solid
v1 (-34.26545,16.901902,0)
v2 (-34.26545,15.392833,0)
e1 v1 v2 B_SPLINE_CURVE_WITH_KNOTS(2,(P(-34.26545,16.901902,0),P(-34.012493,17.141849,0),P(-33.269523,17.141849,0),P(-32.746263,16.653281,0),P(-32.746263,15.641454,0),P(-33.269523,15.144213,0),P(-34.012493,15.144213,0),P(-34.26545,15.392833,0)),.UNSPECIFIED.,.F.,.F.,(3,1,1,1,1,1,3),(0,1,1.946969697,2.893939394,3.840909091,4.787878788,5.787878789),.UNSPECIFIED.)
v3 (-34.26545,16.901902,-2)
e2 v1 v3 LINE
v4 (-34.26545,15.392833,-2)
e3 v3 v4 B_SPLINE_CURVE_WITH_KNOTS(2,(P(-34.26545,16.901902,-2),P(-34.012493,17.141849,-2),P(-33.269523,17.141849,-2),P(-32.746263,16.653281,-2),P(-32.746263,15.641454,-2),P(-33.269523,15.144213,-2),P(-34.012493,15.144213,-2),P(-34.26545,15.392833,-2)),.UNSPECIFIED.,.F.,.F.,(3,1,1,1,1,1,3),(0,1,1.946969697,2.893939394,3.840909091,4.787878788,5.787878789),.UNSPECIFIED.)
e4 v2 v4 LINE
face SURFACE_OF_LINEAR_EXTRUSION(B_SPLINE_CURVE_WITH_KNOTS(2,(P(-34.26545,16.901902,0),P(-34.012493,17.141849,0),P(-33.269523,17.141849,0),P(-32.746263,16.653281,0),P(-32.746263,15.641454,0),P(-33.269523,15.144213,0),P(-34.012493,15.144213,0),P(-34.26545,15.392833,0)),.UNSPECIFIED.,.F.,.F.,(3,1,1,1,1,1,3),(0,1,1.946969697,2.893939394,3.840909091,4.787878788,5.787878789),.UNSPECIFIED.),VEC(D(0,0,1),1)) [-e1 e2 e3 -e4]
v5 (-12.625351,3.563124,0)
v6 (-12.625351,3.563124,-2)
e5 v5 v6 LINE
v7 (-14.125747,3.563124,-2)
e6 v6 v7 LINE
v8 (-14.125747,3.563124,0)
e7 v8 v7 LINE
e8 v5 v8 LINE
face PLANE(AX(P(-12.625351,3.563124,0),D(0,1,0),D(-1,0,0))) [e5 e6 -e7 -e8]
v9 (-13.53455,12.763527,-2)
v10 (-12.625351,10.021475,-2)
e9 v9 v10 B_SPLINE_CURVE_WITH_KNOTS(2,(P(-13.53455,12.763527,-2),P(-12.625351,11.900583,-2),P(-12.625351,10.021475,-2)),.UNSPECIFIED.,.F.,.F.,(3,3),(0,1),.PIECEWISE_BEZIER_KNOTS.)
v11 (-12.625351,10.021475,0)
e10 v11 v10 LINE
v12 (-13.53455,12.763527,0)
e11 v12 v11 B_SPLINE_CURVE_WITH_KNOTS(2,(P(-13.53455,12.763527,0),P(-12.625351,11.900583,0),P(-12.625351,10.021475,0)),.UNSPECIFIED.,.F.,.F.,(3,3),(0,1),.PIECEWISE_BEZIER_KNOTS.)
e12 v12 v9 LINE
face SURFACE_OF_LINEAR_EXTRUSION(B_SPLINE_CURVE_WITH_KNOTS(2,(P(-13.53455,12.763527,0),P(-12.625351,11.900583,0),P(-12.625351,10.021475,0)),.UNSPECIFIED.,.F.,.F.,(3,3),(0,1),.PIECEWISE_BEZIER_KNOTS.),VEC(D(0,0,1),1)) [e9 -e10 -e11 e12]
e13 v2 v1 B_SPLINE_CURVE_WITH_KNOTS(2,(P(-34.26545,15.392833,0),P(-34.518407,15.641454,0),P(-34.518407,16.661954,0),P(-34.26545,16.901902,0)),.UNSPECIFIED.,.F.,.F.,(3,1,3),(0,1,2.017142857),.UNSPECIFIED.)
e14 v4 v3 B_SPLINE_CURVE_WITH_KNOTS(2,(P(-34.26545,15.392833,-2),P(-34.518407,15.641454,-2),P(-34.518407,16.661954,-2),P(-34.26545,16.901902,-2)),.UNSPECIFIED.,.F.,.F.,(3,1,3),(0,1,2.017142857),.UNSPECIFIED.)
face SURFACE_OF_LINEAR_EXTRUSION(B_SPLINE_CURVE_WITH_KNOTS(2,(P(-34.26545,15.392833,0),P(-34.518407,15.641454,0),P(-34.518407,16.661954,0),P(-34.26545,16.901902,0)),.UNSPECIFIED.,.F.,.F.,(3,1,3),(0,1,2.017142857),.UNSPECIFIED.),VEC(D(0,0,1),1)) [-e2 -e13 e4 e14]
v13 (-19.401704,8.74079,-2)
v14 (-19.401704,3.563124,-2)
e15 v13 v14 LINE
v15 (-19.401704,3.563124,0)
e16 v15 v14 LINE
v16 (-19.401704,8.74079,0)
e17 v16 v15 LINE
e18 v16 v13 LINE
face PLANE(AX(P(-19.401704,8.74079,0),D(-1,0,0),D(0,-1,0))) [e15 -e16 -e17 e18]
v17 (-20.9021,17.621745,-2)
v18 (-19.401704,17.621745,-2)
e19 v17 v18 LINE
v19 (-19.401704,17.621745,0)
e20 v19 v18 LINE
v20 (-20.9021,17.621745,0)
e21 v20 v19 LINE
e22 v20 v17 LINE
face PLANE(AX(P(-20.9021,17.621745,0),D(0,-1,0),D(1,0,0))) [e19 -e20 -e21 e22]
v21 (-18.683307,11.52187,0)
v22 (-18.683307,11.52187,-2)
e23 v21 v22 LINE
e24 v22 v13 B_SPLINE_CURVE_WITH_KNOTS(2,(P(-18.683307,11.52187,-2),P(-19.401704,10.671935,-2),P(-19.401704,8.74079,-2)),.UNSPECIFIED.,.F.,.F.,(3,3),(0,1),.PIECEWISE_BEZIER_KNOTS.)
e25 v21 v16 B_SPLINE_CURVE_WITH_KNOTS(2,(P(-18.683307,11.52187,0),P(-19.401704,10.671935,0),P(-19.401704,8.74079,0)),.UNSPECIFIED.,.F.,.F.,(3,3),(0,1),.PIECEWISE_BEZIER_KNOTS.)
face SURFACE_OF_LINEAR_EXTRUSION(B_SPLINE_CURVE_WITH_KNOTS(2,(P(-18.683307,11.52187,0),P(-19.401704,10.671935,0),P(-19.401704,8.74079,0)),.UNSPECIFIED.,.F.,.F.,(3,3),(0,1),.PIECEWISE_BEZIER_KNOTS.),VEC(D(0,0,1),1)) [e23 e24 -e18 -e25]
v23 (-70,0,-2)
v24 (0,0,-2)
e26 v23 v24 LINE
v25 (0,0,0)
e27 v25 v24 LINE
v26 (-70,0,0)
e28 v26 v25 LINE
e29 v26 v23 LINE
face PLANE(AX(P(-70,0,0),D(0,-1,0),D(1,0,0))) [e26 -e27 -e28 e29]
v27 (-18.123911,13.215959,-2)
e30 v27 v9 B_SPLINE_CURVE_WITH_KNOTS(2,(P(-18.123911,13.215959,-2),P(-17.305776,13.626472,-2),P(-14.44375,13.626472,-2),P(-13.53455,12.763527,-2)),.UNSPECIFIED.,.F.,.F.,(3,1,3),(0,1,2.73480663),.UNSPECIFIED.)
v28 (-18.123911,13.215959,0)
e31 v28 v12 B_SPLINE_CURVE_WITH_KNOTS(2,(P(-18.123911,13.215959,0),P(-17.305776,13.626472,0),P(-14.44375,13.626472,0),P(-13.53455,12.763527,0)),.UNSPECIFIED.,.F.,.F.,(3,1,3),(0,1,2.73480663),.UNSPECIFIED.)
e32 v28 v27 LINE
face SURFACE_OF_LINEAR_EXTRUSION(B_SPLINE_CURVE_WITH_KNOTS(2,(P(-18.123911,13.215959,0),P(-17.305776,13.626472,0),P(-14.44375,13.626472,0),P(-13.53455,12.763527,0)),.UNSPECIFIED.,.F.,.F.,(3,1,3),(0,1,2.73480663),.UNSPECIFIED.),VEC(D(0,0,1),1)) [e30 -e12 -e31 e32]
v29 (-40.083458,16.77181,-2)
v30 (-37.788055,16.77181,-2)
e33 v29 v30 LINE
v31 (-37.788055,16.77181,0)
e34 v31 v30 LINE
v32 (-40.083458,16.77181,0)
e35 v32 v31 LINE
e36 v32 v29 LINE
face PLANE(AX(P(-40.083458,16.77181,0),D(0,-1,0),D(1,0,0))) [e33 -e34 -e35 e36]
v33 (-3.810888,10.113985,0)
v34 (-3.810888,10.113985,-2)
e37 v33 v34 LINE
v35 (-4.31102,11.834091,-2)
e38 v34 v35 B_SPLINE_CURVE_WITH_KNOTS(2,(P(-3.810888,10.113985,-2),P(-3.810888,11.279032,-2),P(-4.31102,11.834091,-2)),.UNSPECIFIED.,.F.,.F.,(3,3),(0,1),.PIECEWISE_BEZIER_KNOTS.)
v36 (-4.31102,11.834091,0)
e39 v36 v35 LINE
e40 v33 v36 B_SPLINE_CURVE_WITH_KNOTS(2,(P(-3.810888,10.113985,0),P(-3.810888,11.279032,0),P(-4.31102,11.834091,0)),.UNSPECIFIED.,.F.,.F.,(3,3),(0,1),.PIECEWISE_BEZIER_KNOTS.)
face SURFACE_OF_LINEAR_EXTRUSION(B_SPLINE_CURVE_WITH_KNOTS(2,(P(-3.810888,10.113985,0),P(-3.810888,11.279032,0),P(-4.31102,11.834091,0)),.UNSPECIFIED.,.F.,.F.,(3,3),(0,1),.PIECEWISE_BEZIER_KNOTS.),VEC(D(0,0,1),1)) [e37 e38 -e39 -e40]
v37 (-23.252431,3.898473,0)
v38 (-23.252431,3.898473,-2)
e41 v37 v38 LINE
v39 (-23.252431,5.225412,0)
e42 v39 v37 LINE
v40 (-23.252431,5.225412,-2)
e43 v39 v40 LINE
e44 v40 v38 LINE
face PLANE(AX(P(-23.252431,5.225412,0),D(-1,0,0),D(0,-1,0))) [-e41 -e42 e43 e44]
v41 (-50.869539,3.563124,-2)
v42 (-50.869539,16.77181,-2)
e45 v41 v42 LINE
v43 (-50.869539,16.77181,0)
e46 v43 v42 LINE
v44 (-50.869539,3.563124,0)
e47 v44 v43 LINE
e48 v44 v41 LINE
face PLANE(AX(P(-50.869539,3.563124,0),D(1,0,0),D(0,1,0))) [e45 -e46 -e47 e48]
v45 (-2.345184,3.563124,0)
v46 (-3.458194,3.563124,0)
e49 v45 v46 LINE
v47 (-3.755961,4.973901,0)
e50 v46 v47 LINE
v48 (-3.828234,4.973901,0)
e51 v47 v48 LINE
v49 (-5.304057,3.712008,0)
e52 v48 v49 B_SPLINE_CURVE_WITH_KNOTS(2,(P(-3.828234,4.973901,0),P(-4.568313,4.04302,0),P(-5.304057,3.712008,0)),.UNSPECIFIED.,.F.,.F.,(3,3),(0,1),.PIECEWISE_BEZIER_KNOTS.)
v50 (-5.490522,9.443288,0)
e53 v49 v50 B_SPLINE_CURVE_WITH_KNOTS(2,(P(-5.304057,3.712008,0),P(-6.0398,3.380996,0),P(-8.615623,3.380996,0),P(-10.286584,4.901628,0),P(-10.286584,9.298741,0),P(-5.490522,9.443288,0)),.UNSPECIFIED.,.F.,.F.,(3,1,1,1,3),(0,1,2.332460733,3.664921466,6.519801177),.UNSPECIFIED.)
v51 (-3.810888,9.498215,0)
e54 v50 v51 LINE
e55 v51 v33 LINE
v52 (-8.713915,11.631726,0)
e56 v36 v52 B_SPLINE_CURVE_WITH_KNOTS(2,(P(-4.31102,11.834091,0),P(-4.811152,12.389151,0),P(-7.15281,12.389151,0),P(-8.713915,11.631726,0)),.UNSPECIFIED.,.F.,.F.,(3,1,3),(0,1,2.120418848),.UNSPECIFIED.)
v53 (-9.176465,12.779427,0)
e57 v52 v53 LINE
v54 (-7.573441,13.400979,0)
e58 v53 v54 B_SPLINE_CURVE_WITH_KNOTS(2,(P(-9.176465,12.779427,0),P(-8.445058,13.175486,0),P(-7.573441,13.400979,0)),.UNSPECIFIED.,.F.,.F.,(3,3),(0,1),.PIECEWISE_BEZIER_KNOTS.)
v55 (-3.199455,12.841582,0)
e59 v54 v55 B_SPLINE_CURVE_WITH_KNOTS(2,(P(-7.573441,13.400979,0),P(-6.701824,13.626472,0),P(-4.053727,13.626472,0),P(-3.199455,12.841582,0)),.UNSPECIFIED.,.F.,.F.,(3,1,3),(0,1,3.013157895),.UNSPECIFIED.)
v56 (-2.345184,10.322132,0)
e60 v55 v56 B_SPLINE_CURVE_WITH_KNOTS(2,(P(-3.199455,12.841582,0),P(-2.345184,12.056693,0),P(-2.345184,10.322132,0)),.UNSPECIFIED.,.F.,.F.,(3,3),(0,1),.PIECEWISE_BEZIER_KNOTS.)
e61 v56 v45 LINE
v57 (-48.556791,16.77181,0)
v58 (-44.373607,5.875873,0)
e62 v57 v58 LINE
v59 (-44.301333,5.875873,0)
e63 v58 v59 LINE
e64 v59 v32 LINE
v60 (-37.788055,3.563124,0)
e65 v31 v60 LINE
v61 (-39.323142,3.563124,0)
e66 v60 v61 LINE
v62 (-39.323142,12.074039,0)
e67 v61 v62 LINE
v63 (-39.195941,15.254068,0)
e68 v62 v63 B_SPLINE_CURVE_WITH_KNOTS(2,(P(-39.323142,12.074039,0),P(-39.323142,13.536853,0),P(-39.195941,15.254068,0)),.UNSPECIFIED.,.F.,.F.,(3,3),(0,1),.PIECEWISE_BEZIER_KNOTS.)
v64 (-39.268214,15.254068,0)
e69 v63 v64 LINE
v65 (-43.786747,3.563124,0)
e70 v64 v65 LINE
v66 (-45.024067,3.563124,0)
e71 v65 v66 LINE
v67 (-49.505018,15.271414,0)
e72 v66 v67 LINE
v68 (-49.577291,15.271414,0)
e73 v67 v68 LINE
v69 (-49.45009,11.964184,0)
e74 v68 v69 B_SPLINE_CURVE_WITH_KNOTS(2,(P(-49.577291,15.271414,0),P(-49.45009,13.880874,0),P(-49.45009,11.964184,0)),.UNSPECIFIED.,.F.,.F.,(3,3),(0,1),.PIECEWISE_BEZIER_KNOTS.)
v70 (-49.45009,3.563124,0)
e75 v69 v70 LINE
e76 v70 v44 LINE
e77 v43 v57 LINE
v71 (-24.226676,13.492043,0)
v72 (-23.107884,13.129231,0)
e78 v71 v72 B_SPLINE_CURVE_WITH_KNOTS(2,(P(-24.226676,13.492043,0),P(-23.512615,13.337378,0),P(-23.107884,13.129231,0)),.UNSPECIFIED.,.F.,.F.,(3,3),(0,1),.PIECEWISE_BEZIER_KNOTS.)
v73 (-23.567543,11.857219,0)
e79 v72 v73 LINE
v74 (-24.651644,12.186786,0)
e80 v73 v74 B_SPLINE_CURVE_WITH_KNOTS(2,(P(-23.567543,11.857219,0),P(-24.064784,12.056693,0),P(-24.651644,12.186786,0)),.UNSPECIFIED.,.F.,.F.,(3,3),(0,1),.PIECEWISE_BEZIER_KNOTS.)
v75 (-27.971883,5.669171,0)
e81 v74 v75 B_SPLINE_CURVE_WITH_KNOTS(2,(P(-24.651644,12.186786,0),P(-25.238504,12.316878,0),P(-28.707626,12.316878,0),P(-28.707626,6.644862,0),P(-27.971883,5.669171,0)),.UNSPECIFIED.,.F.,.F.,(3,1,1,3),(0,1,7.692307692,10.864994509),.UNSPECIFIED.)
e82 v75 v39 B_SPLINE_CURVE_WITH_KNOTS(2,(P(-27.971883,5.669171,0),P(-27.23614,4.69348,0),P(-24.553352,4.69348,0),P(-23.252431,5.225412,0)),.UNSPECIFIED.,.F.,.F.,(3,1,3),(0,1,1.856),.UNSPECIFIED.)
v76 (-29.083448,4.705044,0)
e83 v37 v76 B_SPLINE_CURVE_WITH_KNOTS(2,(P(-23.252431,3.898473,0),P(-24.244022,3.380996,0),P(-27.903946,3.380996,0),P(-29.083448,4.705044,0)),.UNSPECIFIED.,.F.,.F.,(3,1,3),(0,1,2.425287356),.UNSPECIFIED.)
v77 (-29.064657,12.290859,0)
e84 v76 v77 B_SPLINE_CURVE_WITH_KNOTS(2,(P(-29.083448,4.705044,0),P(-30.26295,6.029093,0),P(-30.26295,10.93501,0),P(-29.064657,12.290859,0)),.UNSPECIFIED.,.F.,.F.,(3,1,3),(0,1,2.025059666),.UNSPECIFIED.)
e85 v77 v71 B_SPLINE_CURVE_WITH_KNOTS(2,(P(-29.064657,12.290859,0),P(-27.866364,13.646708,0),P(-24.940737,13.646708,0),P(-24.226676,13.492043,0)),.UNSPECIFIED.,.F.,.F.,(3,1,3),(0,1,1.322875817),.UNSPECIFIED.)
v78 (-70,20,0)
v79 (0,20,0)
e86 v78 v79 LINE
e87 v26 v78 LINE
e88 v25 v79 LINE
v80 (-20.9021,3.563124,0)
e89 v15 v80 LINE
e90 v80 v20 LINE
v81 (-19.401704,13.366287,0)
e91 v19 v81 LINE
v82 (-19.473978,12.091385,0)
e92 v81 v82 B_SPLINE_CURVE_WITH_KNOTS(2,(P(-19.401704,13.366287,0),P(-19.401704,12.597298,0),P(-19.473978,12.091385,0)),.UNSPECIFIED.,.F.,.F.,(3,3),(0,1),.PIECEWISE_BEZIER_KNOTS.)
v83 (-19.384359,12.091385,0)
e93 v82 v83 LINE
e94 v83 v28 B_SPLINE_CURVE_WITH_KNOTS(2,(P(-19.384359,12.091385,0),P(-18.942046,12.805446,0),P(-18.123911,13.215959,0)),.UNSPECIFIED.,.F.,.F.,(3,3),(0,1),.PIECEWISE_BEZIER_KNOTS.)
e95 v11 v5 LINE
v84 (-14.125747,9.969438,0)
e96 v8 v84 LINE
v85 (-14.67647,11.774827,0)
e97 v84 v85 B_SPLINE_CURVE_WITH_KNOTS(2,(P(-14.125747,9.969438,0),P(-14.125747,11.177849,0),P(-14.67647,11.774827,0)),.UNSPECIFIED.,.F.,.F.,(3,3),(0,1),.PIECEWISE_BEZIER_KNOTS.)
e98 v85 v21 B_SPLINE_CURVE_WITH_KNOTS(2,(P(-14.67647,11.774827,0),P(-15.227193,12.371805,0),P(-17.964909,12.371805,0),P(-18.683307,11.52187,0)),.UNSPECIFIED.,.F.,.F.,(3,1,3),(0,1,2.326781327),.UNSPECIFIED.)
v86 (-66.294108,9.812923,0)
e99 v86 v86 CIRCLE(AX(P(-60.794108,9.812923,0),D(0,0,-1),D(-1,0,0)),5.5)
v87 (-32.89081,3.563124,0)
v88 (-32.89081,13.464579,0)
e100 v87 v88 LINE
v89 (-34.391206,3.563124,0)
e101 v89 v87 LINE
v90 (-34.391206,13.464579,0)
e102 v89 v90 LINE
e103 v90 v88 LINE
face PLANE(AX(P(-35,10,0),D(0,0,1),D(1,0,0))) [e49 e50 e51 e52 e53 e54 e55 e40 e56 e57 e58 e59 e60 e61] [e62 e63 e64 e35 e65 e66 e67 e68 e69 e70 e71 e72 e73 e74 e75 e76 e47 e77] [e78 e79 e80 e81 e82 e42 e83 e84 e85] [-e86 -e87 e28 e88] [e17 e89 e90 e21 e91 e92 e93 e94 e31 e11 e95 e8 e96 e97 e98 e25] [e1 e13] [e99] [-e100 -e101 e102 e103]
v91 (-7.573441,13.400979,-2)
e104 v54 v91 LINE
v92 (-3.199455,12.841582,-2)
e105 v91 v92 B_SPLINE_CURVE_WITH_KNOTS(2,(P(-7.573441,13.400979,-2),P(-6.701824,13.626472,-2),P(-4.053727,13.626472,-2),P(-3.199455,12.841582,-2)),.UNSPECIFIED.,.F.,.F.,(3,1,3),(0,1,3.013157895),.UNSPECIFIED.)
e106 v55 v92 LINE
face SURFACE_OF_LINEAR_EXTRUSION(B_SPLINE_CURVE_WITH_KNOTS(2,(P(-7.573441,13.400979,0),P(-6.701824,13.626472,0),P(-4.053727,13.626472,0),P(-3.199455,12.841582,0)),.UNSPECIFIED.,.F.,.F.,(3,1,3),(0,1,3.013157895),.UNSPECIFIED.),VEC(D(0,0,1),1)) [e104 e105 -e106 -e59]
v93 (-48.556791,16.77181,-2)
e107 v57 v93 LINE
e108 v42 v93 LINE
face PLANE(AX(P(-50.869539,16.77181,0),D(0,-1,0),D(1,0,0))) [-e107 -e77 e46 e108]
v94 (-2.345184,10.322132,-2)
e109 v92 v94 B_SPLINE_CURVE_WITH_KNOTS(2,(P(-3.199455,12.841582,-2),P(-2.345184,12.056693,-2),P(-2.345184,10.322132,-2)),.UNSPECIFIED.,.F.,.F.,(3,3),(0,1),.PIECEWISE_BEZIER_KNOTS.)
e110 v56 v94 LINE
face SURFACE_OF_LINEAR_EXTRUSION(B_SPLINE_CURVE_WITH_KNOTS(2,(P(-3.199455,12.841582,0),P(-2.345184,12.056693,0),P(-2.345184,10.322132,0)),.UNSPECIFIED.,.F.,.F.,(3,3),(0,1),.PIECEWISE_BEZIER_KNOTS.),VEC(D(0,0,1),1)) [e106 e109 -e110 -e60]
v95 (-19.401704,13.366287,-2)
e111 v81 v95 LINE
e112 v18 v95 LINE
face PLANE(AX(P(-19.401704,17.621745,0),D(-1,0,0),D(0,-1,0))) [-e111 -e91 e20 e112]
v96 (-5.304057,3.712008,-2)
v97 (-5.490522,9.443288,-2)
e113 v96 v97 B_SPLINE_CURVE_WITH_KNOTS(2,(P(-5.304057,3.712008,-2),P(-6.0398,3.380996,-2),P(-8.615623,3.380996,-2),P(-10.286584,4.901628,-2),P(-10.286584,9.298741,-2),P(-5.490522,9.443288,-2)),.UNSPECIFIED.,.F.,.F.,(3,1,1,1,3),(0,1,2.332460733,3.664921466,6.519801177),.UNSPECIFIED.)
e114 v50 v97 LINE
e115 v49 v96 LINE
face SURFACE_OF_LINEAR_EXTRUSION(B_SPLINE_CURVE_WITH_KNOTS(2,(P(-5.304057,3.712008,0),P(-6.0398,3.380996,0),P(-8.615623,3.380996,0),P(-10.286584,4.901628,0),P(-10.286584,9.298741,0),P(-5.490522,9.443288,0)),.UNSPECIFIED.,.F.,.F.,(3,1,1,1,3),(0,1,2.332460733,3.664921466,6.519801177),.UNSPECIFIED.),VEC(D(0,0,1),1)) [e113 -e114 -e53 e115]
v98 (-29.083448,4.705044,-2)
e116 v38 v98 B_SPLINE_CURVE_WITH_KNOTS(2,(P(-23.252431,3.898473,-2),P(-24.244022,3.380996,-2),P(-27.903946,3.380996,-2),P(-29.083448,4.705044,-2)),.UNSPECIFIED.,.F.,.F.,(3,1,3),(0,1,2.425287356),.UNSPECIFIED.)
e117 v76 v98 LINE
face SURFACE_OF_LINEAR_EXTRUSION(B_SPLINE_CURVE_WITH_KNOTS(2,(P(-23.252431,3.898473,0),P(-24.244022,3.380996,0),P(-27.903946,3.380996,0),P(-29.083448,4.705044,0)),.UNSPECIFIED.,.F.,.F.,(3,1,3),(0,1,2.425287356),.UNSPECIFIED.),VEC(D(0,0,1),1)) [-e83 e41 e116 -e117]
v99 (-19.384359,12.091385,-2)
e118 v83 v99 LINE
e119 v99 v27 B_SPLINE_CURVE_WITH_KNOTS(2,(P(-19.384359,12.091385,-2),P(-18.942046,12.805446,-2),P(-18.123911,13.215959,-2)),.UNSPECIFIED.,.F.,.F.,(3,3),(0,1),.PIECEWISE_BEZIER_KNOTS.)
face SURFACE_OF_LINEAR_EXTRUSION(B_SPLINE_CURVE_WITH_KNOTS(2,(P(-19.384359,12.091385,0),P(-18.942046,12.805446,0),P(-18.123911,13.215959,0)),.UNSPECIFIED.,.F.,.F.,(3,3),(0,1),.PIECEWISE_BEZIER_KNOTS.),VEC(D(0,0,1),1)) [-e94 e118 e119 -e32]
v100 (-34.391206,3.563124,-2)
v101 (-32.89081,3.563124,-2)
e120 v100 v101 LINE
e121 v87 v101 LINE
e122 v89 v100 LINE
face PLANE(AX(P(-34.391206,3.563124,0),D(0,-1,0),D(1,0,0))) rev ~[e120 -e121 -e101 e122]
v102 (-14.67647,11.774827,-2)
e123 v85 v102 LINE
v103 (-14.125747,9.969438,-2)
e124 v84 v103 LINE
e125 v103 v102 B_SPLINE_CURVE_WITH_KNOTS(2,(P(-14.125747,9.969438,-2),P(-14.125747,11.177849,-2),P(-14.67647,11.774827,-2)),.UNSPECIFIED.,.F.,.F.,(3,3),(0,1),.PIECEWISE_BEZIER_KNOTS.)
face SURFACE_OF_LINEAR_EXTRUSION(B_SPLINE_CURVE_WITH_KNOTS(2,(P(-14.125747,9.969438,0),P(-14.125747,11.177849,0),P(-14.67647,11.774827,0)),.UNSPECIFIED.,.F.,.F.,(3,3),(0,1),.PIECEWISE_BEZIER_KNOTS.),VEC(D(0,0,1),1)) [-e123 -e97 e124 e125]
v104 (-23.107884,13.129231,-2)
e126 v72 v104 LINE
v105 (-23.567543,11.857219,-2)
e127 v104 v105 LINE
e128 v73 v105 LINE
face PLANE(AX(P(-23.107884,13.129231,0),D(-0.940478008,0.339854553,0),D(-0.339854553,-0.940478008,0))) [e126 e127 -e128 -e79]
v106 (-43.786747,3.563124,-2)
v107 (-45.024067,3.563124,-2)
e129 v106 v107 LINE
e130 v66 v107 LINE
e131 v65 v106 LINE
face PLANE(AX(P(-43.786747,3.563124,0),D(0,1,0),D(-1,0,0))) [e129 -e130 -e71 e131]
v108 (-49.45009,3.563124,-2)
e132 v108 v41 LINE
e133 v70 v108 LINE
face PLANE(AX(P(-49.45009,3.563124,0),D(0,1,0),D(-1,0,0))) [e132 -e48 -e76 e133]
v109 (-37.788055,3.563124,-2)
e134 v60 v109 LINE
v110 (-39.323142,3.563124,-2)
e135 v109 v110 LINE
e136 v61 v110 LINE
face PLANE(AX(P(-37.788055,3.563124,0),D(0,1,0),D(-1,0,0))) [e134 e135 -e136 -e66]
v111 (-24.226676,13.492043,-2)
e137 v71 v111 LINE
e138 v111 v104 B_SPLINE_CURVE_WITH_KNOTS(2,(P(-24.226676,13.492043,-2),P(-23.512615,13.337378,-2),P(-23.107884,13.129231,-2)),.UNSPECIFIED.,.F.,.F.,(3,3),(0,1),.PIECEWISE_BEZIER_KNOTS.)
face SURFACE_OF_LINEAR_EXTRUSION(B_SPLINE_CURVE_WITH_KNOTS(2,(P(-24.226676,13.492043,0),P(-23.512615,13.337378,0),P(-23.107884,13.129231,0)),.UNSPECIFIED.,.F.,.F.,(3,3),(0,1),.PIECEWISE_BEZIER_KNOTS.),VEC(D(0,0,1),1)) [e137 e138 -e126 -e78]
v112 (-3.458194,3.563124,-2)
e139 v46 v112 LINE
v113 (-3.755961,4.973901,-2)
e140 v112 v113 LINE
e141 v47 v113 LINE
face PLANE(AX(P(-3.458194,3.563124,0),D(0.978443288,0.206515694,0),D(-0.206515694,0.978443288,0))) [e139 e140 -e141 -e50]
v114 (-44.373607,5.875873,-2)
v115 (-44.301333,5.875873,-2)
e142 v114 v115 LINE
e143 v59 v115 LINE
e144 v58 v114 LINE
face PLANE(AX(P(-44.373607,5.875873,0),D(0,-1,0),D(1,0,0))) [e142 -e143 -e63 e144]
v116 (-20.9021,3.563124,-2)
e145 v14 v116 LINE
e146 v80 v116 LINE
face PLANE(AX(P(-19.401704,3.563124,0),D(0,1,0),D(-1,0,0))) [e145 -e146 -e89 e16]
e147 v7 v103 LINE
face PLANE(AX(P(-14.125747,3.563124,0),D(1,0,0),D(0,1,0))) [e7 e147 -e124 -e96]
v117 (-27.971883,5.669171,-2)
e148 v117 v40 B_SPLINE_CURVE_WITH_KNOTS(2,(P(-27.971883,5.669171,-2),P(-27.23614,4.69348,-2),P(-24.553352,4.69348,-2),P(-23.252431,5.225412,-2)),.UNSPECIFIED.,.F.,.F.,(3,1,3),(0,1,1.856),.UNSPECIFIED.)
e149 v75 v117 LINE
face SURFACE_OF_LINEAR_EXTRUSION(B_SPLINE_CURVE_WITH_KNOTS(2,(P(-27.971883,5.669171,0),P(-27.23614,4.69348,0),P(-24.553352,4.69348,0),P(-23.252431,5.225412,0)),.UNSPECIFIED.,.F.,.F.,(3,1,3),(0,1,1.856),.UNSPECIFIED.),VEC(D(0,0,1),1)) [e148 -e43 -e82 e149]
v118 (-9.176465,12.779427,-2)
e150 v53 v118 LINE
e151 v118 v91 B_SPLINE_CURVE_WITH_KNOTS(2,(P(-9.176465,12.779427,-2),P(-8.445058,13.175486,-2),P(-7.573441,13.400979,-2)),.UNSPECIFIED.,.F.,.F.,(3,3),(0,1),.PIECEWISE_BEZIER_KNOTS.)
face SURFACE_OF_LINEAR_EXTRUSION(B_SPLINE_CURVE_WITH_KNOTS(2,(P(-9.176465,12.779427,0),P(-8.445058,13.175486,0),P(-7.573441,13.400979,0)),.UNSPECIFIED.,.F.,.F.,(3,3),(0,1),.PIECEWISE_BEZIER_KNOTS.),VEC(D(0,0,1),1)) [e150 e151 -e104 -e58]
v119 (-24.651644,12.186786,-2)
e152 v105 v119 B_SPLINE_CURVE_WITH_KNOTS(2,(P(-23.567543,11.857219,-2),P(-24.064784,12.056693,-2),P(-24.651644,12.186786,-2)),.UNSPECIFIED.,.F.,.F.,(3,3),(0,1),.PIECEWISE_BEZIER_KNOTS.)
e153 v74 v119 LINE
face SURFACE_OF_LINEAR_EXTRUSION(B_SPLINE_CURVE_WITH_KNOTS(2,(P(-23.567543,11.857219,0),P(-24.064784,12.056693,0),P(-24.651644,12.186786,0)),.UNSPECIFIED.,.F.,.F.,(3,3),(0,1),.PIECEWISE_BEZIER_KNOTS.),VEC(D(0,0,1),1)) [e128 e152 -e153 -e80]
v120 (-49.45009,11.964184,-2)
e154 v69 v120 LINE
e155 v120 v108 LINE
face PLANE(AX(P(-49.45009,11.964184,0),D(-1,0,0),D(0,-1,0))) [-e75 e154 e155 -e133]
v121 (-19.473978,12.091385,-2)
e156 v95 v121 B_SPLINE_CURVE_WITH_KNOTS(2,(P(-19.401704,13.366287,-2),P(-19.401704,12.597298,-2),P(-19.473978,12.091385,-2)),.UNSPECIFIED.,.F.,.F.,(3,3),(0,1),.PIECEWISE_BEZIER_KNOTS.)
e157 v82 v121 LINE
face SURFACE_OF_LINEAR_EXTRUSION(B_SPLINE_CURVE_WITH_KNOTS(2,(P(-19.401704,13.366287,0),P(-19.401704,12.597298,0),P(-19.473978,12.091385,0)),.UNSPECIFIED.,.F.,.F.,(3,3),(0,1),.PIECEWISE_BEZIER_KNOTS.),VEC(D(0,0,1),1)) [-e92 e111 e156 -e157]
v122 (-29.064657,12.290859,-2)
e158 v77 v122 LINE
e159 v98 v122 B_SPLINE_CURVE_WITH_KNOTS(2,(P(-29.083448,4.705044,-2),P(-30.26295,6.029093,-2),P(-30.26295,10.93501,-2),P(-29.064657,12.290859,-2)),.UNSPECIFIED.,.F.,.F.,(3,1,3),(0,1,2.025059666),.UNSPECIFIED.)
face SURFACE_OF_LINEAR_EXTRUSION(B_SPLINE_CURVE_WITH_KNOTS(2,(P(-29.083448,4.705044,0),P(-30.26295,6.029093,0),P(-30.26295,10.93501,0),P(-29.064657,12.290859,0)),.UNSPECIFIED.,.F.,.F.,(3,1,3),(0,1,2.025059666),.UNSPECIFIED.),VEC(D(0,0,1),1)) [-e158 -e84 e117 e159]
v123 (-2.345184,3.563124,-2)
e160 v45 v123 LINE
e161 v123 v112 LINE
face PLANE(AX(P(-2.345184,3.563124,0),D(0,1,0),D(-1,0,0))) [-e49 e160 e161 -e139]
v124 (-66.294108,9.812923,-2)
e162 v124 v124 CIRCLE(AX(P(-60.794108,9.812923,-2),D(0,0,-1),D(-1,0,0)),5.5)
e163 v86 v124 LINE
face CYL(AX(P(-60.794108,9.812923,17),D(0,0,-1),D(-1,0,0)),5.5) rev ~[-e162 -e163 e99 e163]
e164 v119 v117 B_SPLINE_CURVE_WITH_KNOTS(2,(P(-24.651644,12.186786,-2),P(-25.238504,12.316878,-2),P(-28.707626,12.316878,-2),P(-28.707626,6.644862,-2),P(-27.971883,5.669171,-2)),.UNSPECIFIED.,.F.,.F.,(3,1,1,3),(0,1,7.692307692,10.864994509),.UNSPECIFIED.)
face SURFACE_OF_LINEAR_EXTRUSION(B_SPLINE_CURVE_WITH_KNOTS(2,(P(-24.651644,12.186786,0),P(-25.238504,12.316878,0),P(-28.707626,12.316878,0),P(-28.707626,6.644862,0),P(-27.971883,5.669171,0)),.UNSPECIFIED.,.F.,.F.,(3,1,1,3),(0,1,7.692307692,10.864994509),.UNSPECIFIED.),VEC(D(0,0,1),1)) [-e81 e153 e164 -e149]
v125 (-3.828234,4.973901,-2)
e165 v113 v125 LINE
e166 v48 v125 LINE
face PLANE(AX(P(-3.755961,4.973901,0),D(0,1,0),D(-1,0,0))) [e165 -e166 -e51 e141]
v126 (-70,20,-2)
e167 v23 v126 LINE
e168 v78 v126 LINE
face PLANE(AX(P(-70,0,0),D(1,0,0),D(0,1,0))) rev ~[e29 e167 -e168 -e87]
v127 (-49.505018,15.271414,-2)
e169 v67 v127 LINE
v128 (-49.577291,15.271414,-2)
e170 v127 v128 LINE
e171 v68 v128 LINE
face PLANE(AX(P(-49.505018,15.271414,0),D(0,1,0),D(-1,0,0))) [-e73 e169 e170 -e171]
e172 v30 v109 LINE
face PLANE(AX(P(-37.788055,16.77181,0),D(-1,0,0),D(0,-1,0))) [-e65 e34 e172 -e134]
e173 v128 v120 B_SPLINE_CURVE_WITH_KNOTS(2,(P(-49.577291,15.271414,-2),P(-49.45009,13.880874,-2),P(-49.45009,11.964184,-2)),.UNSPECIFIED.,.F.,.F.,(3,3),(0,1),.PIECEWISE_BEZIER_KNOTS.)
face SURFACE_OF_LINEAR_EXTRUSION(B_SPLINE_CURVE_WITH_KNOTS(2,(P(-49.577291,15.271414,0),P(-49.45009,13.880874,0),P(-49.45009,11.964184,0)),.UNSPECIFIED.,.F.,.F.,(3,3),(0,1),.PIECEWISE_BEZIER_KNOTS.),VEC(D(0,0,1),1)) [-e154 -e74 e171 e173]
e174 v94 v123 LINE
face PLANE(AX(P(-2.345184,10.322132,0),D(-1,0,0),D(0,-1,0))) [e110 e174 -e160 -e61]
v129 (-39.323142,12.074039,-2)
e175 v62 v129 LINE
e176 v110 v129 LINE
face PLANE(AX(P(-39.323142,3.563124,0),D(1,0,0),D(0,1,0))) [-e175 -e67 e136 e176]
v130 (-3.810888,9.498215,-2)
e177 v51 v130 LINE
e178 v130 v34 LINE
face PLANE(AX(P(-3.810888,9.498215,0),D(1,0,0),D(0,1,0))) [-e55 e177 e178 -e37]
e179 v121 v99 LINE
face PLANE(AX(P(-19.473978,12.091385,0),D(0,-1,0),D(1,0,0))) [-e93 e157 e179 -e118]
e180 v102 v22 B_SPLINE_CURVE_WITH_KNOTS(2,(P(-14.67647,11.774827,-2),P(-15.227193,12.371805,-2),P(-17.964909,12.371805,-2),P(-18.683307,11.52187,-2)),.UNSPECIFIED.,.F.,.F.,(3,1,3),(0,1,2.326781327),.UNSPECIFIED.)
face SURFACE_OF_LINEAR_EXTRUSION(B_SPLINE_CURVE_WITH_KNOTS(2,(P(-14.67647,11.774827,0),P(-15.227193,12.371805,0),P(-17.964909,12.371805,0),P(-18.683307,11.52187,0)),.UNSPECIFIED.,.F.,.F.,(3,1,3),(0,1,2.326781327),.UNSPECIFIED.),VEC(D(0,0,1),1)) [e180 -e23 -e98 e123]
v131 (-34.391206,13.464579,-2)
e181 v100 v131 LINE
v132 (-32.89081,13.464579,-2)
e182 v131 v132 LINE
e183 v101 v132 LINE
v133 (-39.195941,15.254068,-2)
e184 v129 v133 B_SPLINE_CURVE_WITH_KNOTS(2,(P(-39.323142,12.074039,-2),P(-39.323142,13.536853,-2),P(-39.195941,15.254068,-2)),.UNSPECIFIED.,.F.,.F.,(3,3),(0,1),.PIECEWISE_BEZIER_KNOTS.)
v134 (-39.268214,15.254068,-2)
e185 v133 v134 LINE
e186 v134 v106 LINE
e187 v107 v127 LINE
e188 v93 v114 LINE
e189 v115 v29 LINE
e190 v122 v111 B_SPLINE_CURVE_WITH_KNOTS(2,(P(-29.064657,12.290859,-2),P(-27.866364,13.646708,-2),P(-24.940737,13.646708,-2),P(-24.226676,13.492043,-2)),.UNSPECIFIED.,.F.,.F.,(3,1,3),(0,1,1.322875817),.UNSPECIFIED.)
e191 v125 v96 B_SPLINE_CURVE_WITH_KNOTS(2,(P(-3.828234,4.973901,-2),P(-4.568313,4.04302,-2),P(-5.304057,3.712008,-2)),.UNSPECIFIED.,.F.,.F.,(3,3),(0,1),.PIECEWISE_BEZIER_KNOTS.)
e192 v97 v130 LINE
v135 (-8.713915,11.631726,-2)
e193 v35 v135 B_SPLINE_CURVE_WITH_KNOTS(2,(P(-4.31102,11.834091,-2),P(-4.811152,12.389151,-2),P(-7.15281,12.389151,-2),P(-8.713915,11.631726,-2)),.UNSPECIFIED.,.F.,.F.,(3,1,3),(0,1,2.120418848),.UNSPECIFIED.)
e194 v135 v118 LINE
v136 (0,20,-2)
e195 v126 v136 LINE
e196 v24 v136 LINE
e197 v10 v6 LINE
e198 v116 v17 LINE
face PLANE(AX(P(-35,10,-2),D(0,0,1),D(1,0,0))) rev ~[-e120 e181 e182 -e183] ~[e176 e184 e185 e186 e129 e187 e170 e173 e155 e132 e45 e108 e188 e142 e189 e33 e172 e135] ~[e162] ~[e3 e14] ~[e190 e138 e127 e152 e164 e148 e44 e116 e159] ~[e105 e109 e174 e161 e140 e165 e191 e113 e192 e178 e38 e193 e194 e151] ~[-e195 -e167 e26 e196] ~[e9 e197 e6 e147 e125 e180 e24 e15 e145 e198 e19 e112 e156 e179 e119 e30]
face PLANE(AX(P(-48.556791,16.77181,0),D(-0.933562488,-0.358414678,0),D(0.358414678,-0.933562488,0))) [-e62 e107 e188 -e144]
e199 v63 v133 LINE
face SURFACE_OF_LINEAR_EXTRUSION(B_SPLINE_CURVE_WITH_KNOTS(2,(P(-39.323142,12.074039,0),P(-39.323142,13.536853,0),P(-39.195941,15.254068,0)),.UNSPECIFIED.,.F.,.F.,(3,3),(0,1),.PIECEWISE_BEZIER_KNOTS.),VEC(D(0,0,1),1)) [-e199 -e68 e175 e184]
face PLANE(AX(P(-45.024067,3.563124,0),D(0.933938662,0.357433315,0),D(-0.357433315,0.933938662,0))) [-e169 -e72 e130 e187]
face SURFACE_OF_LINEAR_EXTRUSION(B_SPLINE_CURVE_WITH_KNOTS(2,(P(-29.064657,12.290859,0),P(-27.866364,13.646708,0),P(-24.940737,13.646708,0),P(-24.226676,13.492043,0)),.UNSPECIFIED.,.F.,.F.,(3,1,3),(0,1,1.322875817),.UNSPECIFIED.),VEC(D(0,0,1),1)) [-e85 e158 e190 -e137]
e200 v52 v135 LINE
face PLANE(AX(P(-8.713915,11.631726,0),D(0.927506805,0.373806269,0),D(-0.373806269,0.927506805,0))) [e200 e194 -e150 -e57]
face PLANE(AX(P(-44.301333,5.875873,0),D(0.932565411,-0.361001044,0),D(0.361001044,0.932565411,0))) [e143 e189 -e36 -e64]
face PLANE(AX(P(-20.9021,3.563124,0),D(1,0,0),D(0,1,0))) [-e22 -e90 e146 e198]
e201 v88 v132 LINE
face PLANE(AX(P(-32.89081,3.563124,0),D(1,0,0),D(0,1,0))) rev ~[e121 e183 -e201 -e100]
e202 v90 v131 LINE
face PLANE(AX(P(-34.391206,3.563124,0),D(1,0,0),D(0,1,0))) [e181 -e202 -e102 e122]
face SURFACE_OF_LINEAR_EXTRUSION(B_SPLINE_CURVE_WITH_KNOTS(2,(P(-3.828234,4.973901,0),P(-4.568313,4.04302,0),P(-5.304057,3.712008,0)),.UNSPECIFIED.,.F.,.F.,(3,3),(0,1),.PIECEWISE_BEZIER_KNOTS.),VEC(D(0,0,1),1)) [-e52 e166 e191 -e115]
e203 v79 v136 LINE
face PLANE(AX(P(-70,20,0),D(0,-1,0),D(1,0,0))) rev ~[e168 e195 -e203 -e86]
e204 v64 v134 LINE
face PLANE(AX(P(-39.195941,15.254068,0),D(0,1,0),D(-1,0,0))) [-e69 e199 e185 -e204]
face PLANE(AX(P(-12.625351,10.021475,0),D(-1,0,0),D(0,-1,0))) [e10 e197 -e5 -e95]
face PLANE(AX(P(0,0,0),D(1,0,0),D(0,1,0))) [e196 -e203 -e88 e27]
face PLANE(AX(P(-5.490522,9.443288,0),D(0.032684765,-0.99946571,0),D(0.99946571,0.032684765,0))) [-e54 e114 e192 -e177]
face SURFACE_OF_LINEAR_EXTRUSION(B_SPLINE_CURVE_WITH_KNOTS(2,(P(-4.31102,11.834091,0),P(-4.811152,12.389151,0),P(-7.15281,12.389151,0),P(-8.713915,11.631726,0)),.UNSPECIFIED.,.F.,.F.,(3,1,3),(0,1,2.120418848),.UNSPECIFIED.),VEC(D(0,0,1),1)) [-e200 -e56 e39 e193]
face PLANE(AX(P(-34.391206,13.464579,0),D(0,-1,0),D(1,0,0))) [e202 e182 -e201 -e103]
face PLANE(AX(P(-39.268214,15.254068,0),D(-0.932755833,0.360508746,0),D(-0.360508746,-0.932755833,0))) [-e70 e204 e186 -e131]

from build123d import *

# Parameters (mm, degrees)
F0_W     = 70
F0_H     = 20
F0_W_2   = 1.5003956149
F0_H_2   = 9.901454684
F2_DEPTH = 2
F3_D     = 11
F3_DEPTH = 17
F3_TIP   = 3.3047334047


with BuildPart() as f2:
    # F0 (on Top) → F2 (new body)
    with BuildSketch(Plane.XY):
        with Locations((-35, 10)):
            Rectangle(F0_W, F0_H)
        with Locations((-33.6410080478, 8.5138517956)):
            Rectangle(F0_W_2, F0_H_2, mode=Mode.SUBTRACT)
        with BuildLine():
            add(Edge.make_bspline(
                [(-23.2524307027, 3.8984729919), (-24.244021639, 3.3809955062), (-25.7530900609, 3.3809955062)],
                knots=[0, 0, 0, 1, 1, 1], degree=2))
            add(Edge.make_bspline(
                [(-25.7530900609, 3.3809955062), (-27.9039462025, 3.3809955062), (-29.0834479575, 4.7050440449)],
                knots=[0, 0, 0, 1, 1, 1], degree=2))
            add(Edge.make_bspline(
                [(-29.0834479575, 4.7050440449), (-30.2629497126, 6.0290925837), (-30.2629497126, 8.4516966786)],
                knots=[0, 0, 0, 1, 1, 1], degree=2))
            add(Edge.make_bspline(
                [(-30.2629497126, 8.4516966786), (-30.2629497126, 10.9350104228), (-29.0646568756, 12.2908592539)],
                knots=[0, 0, 0, 1, 1, 1], degree=2))
            add(Edge.make_bspline(
                [(-29.0646568756, 12.2908592539), (-27.8663640387, 13.6467080851), (-25.654798248, 13.6467080851)],
                knots=[0, 0, 0, 1, 1, 1], degree=2))
            add(Edge.make_bspline(
                [(-25.654798248, 13.6467080851), (-24.9407371365, 13.6467080851), (-24.2266760249, 13.4920430265)],
                knots=[0, 0, 0, 1, 1, 1], degree=2))
            add(Edge.make_bspline(
                [(-24.2266760249, 13.4920430265), (-23.5126149134, 13.337377968), (-23.107883919, 13.1292305994)],
                knots=[0, 0, 0, 1, 1, 1], degree=2))
            Line((-23.107883919, 13.1292305994), (-23.5675426912, 11.8572189028))
            add(Edge.make_bspline(
                [(-23.5675426912, 11.8572189028), (-24.0647836272, 12.0566934643), (-24.651643569, 12.1867855697)],
                knots=[0, 0, 0, 1, 1, 1], degree=2))
            add(Edge.make_bspline(
                [(-24.651643569, 12.1867855697), (-25.2385035109, 12.316877675), (-25.6894894761, 12.316877675)],
                knots=[0, 0, 0, 1, 1, 1], degree=2))
            add(Edge.make_bspline(
                [(-25.6894894761, 12.316877675), (-28.7076263199, 12.316877675), (-28.7076263199, 8.4690422927)],
                knots=[0, 0, 0, 1, 1, 1], degree=2))
            add(Edge.make_bspline(
                [(-28.7076263199, 8.4690422927), (-28.7076263199, 6.6448618823), (-27.9718831908, 5.6691710923)],
                knots=[0, 0, 0, 1, 1, 1], degree=2))
            add(Edge.make_bspline(
                [(-27.9718831908, 5.6691710923), (-27.2361400617, 4.6934803022), (-25.7906722247, 4.6934803022)],
                knots=[0, 0, 0, 1, 1, 1], degree=2))
            add(Edge.make_bspline(
                [(-25.7906722247, 4.6934803022), (-24.5533517561, 4.6934803022), (-23.2524307027, 5.2254124663)],
                knots=[0, 0, 0, 1, 1, 1], degree=2))
            Line((-23.2524307027, 5.2254124663), (-23.2524307027, 3.8984729919))
        make_face(mode=Mode.SUBTRACT)
        with BuildLine():
            Line((-2.3451839072, 3.5631244536), (-3.4581941418, 3.5631244536))
            Line((-3.4581941418, 3.5631244536), (-3.7559605162, 4.9739010626))
            Line((-3.7559605162, 4.9739010626), (-3.8282339081, 4.9739010626))
            add(Edge.make_bspline(
                [(-3.8282339081, 4.9739010626), (-4.5683134407, 4.0430197756), (-5.3040565697, 3.7120076409)],
                knots=[0, 0, 0, 1, 1, 1], degree=2))
            add(Edge.make_bspline(
                [(-5.3040565697, 3.7120076409), (-6.0397996988, 3.3809955062), (-7.1441371263, 3.3809955062)],
                knots=[0, 0, 0, 1, 1, 1], degree=2))
            add(Edge.make_bspline(
                [(-7.1441371263, 3.3809955062), (-8.6156233845, 3.3809955062), (-9.4511037943, 4.1413115885)],
                knots=[0, 0, 0, 1, 1, 1], degree=2))
            add(Edge.make_bspline(
                [(-9.4511037943, 4.1413115885), (-10.2865842041, 4.9016276708), (-10.2865842041, 6.3008405371)],
                knots=[0, 0, 0, 1, 1, 1], degree=2))
            add(Edge.make_bspline(
                [(-10.2865842041, 6.3008405371), (-10.2865842041, 9.2987408312), (-5.4905219207, 9.4432876149)],
                knots=[0, 0, 0, 1, 1, 1], degree=2))
            Line((-5.4905219207, 9.4432876149), (-3.810888294, 9.4982153927))
            Line((-3.810888294, 9.4982153927), (-3.810888294, 10.1139846913))
            add(Edge.make_bspline(
                [(-3.810888294, 10.1139846913), (-3.810888294, 11.279031768), (-4.3110201657, 11.8340914174)],
                knots=[0, 0, 0, 1, 1, 1], degree=2))
            add(Edge.make_bspline(
                [(-4.3110201657, 11.8340914174), (-4.8111520373, 12.3891510669), (-5.9154894648, 12.3891510669)],
                knots=[0, 0, 0, 1, 1, 1], degree=2))
            add(Edge.make_bspline(
                [(-5.9154894648, 12.3891510669), (-7.1528099334, 12.3891510669), (-8.7139151974, 11.6317259202)],
                knots=[0, 0, 0, 1, 1, 1], degree=2))
            Line((-8.7139151974, 11.6317259202), (-9.1764649053, 12.7794273829))
            add(Edge.make_bspline(
                [(-9.1764649053, 12.7794273829), (-8.4450581797, 13.1754855702), (-7.5734410739, 13.4009785528)],
                knots=[0, 0, 0, 1, 1, 1], degree=2))
            add(Edge.make_bspline(
                [(-7.5734410739, 13.4009785528), (-6.7018239682, 13.6264715354), (-5.8229795232, 13.6264715354)],
                knots=[0, 0, 0, 1, 1, 1], degree=2))
            add(Edge.make_bspline(
                [(-5.8229795232, 13.6264715354), (-4.0537268907, 13.6264715354), (-3.1994553989, 12.8415824999)],
                knots=[0, 0, 0, 1, 1, 1], degree=2))
            add(Edge.make_bspline(
                [(-3.1994553989, 12.8415824999), (-2.3451839072, 12.0566934643), (-2.3451839072, 10.3221320598)],
                knots=[0, 0, 0, 1, 1, 1], degree=2))
            Line((-2.3451839072, 10.3221320598), (-2.3451839072, 3.5631244536))
        make_face(mode=Mode.SUBTRACT)
        with BuildLine():
            Line((-43.7867467963, 3.5631244536), (-45.0240672648, 3.5631244536))
            Line((-45.0240672648, 3.5631244536), (-49.5050175598, 15.271413934))
            Line((-49.5050175598, 15.271413934), (-49.5772909516, 15.271413934))
            add(Edge.make_bspline(
                [(-49.5772909516, 15.271413934), (-49.450089782, 13.8808738747), (-49.450089782, 11.9641835228)],
                knots=[0, 0, 0, 1, 1, 1], degree=2))
            Line((-49.450089782, 11.9641835228), (-49.450089782, 3.5631244536))
            Line((-49.450089782, 3.5631244536), (-50.869539198, 3.5631244536))
            Line((-50.869539198, 3.5631244536), (-50.869539198, 16.7718095489))
            Line((-50.869539198, 16.7718095489), (-48.5567906586, 16.7718095489))
            Line((-48.5567906586, 16.7718095489), (-44.3736067381, 5.875872993))
            Line((-44.3736067381, 5.875872993), (-44.3013333463, 5.875872993))
            Line((-44.3013333463, 5.875872993), (-40.0834581977, 16.7718095489))
            Line((-40.0834581977, 16.7718095489), (-37.7880552724, 16.7718095489))
            Line((-37.7880552724, 16.7718095489), (-37.7880552724, 3.5631244536))
            Line((-37.7880552724, 3.5631244536), (-39.3231421154, 3.5631244536))
            Line((-39.3231421154, 3.5631244536), (-39.3231421154, 12.0740390784))
            add(Edge.make_bspline(
                [(-39.3231421154, 12.0740390784), (-39.3231421154, 13.5368525295), (-39.1959409457, 15.2540683199)],
                knots=[0, 0, 0, 1, 1, 1], degree=2))
            Line((-39.1959409457, 15.2540683199), (-39.2682143376, 15.2540683199))
            Line((-39.2682143376, 15.2540683199), (-43.7867467963, 3.5631244536))
        make_face(mode=Mode.SUBTRACT)
        with BuildLine():
            Line((-12.6253511645, 3.5631244536), (-14.1257467794, 3.5631244536))
            Line((-14.1257467794, 3.5631244536), (-14.1257467794, 9.9694379076))
            add(Edge.make_bspline(
                [(-14.1257467794, 9.9694379076), (-14.1257467794, 11.1778490194), (-14.6764700254, 11.7748272361)],
                knots=[0, 0, 0, 1, 1, 1], degree=2))
            add(Edge.make_bspline(
                [(-14.6764700254, 11.7748272361), (-15.2271932713, 12.3718054528), (-16.4038040907, 12.3718054528)],
                knots=[0, 0, 0, 1, 1, 1], degree=2))
            add(Edge.make_bspline(
                [(-16.4038040907, 12.3718054528), (-17.9649093547, 12.3718054528), (-18.6833068697, 11.5218703646)],
                knots=[0, 0, 0, 1, 1, 1], degree=2))
            add(Edge.make_bspline(
                [(-18.6833068697, 11.5218703646), (-19.4017043848, 10.6719352764), (-19.4017043848, 8.7407902461)],
                knots=[0, 0, 0, 1, 1, 1], degree=2))
            Line((-19.4017043848, 8.7407902461), (-19.4017043848, 3.5631244536))
            Line((-19.4017043848, 3.5631244536), (-20.9020999997, 3.5631244536))
            Line((-20.9020999997, 3.5631244536), (-20.9020999997, 17.6217446371))
            Line((-20.9020999997, 17.6217446371), (-19.4017043848, 17.6217446371))
            Line((-19.4017043848, 17.6217446371), (-19.4017043848, 13.3662873247))
            add(Edge.make_bspline(
                [(-19.4017043848, 13.3662873247), (-19.4017043848, 12.5972984354), (-19.4739777766, 12.0913846924)],
                knots=[0, 0, 0, 1, 1, 1], degree=2))
            Line((-19.4739777766, 12.0913846924), (-19.3843587707, 12.0913846924))
            add(Edge.make_bspline(
                [(-19.3843587707, 12.0913846924), (-18.9420456126, 12.8054458039), (-18.1239108168, 13.2159586697)],
                knots=[0, 0, 0, 1, 1, 1], degree=2))
            add(Edge.make_bspline(
                [(-18.1239108168, 13.2159586697), (-17.305776021, 13.6264715354), (-16.259257307, 13.6264715354)],
                knots=[0, 0, 0, 1, 1, 1], degree=2))
            add(Edge.make_bspline(
                [(-16.259257307, 13.6264715354), (-14.4437497036, 13.6264715354), (-13.5345504341, 12.7635272367)],
                knots=[0, 0, 0, 1, 1, 1], degree=2))
            add(Edge.make_bspline(
                [(-13.5345504341, 12.7635272367), (-12.6253511645, 11.9005829379), (-12.6253511645, 10.0214747497)],
                knots=[0, 0, 0, 1, 1, 1], degree=2))
            Line((-12.6253511645, 10.0214747497), (-12.6253511645, 3.5631244536))
        make_face(mode=Mode.SUBTRACT)
        with BuildLine():
            add(Edge.make_bspline(
                [(-34.2654501534, 15.3928332323), (-34.5184070249, 15.6414537003), (-34.5184070249, 16.1473674433)],
                knots=[0, 0, 0, 1, 1, 1], degree=2))
            add(Edge.make_bspline(
                [(-34.5184070249, 16.1473674433), (-34.5184070249, 16.6619539933), (-34.2654501534, 16.9019016542)],
                knots=[0, 0, 0, 1, 1, 1], degree=2))
            add(Edge.make_bspline(
                [(-34.2654501534, 16.9019016542), (-34.012493282, 17.1418493152), (-33.630889773, 17.1418493152)],
                knots=[0, 0, 0, 1, 1, 1], degree=2))
            add(Edge.make_bspline(
                [(-33.630889773, 17.1418493152), (-33.2695228137, 17.1418493152), (-33.0078931352, 16.8975652507)],
                knots=[0, 0, 0, 1, 1, 1], degree=2))
            add(Edge.make_bspline(
                [(-33.0078931352, 16.8975652507), (-32.7462634567, 16.6532811862), (-32.7462634567, 16.1473674433)],
                knots=[0, 0, 0, 1, 1, 1], degree=2))
            add(Edge.make_bspline(
                [(-32.7462634567, 16.1473674433), (-32.7462634567, 15.6414537003), (-33.0078931352, 15.3928332323)],
                knots=[0, 0, 0, 1, 1, 1], degree=2))
            add(Edge.make_bspline(
                [(-33.0078931352, 15.3928332323), (-33.2695228137, 15.1442127643), (-33.630889773, 15.1442127643)],
                knots=[0, 0, 0, 1, 1, 1], degree=2))
            add(Edge.make_bspline(
                [(-33.630889773, 15.1442127643), (-34.012493282, 15.1442127643), (-34.2654501534, 15.3928332323)],
                knots=[0, 0, 0, 1, 1, 1], degree=2))
        make_face(mode=Mode.SUBTRACT)
    extrude(amount=-F2_DEPTH)

    # F3
    with Locations(Plane.XY):
        with Locations((-60.7941076159, 9.8129231483)):
            Hole(F3_D / 2, depth=F3_DEPTH)
            with Locations((0, 0, -(F3_DEPTH + F3_TIP / 2))):  # 118° drill point
                Cone(0, F3_D / 2, F3_TIP, mode=Mode.SUBTRACT)


solid = f2.part
